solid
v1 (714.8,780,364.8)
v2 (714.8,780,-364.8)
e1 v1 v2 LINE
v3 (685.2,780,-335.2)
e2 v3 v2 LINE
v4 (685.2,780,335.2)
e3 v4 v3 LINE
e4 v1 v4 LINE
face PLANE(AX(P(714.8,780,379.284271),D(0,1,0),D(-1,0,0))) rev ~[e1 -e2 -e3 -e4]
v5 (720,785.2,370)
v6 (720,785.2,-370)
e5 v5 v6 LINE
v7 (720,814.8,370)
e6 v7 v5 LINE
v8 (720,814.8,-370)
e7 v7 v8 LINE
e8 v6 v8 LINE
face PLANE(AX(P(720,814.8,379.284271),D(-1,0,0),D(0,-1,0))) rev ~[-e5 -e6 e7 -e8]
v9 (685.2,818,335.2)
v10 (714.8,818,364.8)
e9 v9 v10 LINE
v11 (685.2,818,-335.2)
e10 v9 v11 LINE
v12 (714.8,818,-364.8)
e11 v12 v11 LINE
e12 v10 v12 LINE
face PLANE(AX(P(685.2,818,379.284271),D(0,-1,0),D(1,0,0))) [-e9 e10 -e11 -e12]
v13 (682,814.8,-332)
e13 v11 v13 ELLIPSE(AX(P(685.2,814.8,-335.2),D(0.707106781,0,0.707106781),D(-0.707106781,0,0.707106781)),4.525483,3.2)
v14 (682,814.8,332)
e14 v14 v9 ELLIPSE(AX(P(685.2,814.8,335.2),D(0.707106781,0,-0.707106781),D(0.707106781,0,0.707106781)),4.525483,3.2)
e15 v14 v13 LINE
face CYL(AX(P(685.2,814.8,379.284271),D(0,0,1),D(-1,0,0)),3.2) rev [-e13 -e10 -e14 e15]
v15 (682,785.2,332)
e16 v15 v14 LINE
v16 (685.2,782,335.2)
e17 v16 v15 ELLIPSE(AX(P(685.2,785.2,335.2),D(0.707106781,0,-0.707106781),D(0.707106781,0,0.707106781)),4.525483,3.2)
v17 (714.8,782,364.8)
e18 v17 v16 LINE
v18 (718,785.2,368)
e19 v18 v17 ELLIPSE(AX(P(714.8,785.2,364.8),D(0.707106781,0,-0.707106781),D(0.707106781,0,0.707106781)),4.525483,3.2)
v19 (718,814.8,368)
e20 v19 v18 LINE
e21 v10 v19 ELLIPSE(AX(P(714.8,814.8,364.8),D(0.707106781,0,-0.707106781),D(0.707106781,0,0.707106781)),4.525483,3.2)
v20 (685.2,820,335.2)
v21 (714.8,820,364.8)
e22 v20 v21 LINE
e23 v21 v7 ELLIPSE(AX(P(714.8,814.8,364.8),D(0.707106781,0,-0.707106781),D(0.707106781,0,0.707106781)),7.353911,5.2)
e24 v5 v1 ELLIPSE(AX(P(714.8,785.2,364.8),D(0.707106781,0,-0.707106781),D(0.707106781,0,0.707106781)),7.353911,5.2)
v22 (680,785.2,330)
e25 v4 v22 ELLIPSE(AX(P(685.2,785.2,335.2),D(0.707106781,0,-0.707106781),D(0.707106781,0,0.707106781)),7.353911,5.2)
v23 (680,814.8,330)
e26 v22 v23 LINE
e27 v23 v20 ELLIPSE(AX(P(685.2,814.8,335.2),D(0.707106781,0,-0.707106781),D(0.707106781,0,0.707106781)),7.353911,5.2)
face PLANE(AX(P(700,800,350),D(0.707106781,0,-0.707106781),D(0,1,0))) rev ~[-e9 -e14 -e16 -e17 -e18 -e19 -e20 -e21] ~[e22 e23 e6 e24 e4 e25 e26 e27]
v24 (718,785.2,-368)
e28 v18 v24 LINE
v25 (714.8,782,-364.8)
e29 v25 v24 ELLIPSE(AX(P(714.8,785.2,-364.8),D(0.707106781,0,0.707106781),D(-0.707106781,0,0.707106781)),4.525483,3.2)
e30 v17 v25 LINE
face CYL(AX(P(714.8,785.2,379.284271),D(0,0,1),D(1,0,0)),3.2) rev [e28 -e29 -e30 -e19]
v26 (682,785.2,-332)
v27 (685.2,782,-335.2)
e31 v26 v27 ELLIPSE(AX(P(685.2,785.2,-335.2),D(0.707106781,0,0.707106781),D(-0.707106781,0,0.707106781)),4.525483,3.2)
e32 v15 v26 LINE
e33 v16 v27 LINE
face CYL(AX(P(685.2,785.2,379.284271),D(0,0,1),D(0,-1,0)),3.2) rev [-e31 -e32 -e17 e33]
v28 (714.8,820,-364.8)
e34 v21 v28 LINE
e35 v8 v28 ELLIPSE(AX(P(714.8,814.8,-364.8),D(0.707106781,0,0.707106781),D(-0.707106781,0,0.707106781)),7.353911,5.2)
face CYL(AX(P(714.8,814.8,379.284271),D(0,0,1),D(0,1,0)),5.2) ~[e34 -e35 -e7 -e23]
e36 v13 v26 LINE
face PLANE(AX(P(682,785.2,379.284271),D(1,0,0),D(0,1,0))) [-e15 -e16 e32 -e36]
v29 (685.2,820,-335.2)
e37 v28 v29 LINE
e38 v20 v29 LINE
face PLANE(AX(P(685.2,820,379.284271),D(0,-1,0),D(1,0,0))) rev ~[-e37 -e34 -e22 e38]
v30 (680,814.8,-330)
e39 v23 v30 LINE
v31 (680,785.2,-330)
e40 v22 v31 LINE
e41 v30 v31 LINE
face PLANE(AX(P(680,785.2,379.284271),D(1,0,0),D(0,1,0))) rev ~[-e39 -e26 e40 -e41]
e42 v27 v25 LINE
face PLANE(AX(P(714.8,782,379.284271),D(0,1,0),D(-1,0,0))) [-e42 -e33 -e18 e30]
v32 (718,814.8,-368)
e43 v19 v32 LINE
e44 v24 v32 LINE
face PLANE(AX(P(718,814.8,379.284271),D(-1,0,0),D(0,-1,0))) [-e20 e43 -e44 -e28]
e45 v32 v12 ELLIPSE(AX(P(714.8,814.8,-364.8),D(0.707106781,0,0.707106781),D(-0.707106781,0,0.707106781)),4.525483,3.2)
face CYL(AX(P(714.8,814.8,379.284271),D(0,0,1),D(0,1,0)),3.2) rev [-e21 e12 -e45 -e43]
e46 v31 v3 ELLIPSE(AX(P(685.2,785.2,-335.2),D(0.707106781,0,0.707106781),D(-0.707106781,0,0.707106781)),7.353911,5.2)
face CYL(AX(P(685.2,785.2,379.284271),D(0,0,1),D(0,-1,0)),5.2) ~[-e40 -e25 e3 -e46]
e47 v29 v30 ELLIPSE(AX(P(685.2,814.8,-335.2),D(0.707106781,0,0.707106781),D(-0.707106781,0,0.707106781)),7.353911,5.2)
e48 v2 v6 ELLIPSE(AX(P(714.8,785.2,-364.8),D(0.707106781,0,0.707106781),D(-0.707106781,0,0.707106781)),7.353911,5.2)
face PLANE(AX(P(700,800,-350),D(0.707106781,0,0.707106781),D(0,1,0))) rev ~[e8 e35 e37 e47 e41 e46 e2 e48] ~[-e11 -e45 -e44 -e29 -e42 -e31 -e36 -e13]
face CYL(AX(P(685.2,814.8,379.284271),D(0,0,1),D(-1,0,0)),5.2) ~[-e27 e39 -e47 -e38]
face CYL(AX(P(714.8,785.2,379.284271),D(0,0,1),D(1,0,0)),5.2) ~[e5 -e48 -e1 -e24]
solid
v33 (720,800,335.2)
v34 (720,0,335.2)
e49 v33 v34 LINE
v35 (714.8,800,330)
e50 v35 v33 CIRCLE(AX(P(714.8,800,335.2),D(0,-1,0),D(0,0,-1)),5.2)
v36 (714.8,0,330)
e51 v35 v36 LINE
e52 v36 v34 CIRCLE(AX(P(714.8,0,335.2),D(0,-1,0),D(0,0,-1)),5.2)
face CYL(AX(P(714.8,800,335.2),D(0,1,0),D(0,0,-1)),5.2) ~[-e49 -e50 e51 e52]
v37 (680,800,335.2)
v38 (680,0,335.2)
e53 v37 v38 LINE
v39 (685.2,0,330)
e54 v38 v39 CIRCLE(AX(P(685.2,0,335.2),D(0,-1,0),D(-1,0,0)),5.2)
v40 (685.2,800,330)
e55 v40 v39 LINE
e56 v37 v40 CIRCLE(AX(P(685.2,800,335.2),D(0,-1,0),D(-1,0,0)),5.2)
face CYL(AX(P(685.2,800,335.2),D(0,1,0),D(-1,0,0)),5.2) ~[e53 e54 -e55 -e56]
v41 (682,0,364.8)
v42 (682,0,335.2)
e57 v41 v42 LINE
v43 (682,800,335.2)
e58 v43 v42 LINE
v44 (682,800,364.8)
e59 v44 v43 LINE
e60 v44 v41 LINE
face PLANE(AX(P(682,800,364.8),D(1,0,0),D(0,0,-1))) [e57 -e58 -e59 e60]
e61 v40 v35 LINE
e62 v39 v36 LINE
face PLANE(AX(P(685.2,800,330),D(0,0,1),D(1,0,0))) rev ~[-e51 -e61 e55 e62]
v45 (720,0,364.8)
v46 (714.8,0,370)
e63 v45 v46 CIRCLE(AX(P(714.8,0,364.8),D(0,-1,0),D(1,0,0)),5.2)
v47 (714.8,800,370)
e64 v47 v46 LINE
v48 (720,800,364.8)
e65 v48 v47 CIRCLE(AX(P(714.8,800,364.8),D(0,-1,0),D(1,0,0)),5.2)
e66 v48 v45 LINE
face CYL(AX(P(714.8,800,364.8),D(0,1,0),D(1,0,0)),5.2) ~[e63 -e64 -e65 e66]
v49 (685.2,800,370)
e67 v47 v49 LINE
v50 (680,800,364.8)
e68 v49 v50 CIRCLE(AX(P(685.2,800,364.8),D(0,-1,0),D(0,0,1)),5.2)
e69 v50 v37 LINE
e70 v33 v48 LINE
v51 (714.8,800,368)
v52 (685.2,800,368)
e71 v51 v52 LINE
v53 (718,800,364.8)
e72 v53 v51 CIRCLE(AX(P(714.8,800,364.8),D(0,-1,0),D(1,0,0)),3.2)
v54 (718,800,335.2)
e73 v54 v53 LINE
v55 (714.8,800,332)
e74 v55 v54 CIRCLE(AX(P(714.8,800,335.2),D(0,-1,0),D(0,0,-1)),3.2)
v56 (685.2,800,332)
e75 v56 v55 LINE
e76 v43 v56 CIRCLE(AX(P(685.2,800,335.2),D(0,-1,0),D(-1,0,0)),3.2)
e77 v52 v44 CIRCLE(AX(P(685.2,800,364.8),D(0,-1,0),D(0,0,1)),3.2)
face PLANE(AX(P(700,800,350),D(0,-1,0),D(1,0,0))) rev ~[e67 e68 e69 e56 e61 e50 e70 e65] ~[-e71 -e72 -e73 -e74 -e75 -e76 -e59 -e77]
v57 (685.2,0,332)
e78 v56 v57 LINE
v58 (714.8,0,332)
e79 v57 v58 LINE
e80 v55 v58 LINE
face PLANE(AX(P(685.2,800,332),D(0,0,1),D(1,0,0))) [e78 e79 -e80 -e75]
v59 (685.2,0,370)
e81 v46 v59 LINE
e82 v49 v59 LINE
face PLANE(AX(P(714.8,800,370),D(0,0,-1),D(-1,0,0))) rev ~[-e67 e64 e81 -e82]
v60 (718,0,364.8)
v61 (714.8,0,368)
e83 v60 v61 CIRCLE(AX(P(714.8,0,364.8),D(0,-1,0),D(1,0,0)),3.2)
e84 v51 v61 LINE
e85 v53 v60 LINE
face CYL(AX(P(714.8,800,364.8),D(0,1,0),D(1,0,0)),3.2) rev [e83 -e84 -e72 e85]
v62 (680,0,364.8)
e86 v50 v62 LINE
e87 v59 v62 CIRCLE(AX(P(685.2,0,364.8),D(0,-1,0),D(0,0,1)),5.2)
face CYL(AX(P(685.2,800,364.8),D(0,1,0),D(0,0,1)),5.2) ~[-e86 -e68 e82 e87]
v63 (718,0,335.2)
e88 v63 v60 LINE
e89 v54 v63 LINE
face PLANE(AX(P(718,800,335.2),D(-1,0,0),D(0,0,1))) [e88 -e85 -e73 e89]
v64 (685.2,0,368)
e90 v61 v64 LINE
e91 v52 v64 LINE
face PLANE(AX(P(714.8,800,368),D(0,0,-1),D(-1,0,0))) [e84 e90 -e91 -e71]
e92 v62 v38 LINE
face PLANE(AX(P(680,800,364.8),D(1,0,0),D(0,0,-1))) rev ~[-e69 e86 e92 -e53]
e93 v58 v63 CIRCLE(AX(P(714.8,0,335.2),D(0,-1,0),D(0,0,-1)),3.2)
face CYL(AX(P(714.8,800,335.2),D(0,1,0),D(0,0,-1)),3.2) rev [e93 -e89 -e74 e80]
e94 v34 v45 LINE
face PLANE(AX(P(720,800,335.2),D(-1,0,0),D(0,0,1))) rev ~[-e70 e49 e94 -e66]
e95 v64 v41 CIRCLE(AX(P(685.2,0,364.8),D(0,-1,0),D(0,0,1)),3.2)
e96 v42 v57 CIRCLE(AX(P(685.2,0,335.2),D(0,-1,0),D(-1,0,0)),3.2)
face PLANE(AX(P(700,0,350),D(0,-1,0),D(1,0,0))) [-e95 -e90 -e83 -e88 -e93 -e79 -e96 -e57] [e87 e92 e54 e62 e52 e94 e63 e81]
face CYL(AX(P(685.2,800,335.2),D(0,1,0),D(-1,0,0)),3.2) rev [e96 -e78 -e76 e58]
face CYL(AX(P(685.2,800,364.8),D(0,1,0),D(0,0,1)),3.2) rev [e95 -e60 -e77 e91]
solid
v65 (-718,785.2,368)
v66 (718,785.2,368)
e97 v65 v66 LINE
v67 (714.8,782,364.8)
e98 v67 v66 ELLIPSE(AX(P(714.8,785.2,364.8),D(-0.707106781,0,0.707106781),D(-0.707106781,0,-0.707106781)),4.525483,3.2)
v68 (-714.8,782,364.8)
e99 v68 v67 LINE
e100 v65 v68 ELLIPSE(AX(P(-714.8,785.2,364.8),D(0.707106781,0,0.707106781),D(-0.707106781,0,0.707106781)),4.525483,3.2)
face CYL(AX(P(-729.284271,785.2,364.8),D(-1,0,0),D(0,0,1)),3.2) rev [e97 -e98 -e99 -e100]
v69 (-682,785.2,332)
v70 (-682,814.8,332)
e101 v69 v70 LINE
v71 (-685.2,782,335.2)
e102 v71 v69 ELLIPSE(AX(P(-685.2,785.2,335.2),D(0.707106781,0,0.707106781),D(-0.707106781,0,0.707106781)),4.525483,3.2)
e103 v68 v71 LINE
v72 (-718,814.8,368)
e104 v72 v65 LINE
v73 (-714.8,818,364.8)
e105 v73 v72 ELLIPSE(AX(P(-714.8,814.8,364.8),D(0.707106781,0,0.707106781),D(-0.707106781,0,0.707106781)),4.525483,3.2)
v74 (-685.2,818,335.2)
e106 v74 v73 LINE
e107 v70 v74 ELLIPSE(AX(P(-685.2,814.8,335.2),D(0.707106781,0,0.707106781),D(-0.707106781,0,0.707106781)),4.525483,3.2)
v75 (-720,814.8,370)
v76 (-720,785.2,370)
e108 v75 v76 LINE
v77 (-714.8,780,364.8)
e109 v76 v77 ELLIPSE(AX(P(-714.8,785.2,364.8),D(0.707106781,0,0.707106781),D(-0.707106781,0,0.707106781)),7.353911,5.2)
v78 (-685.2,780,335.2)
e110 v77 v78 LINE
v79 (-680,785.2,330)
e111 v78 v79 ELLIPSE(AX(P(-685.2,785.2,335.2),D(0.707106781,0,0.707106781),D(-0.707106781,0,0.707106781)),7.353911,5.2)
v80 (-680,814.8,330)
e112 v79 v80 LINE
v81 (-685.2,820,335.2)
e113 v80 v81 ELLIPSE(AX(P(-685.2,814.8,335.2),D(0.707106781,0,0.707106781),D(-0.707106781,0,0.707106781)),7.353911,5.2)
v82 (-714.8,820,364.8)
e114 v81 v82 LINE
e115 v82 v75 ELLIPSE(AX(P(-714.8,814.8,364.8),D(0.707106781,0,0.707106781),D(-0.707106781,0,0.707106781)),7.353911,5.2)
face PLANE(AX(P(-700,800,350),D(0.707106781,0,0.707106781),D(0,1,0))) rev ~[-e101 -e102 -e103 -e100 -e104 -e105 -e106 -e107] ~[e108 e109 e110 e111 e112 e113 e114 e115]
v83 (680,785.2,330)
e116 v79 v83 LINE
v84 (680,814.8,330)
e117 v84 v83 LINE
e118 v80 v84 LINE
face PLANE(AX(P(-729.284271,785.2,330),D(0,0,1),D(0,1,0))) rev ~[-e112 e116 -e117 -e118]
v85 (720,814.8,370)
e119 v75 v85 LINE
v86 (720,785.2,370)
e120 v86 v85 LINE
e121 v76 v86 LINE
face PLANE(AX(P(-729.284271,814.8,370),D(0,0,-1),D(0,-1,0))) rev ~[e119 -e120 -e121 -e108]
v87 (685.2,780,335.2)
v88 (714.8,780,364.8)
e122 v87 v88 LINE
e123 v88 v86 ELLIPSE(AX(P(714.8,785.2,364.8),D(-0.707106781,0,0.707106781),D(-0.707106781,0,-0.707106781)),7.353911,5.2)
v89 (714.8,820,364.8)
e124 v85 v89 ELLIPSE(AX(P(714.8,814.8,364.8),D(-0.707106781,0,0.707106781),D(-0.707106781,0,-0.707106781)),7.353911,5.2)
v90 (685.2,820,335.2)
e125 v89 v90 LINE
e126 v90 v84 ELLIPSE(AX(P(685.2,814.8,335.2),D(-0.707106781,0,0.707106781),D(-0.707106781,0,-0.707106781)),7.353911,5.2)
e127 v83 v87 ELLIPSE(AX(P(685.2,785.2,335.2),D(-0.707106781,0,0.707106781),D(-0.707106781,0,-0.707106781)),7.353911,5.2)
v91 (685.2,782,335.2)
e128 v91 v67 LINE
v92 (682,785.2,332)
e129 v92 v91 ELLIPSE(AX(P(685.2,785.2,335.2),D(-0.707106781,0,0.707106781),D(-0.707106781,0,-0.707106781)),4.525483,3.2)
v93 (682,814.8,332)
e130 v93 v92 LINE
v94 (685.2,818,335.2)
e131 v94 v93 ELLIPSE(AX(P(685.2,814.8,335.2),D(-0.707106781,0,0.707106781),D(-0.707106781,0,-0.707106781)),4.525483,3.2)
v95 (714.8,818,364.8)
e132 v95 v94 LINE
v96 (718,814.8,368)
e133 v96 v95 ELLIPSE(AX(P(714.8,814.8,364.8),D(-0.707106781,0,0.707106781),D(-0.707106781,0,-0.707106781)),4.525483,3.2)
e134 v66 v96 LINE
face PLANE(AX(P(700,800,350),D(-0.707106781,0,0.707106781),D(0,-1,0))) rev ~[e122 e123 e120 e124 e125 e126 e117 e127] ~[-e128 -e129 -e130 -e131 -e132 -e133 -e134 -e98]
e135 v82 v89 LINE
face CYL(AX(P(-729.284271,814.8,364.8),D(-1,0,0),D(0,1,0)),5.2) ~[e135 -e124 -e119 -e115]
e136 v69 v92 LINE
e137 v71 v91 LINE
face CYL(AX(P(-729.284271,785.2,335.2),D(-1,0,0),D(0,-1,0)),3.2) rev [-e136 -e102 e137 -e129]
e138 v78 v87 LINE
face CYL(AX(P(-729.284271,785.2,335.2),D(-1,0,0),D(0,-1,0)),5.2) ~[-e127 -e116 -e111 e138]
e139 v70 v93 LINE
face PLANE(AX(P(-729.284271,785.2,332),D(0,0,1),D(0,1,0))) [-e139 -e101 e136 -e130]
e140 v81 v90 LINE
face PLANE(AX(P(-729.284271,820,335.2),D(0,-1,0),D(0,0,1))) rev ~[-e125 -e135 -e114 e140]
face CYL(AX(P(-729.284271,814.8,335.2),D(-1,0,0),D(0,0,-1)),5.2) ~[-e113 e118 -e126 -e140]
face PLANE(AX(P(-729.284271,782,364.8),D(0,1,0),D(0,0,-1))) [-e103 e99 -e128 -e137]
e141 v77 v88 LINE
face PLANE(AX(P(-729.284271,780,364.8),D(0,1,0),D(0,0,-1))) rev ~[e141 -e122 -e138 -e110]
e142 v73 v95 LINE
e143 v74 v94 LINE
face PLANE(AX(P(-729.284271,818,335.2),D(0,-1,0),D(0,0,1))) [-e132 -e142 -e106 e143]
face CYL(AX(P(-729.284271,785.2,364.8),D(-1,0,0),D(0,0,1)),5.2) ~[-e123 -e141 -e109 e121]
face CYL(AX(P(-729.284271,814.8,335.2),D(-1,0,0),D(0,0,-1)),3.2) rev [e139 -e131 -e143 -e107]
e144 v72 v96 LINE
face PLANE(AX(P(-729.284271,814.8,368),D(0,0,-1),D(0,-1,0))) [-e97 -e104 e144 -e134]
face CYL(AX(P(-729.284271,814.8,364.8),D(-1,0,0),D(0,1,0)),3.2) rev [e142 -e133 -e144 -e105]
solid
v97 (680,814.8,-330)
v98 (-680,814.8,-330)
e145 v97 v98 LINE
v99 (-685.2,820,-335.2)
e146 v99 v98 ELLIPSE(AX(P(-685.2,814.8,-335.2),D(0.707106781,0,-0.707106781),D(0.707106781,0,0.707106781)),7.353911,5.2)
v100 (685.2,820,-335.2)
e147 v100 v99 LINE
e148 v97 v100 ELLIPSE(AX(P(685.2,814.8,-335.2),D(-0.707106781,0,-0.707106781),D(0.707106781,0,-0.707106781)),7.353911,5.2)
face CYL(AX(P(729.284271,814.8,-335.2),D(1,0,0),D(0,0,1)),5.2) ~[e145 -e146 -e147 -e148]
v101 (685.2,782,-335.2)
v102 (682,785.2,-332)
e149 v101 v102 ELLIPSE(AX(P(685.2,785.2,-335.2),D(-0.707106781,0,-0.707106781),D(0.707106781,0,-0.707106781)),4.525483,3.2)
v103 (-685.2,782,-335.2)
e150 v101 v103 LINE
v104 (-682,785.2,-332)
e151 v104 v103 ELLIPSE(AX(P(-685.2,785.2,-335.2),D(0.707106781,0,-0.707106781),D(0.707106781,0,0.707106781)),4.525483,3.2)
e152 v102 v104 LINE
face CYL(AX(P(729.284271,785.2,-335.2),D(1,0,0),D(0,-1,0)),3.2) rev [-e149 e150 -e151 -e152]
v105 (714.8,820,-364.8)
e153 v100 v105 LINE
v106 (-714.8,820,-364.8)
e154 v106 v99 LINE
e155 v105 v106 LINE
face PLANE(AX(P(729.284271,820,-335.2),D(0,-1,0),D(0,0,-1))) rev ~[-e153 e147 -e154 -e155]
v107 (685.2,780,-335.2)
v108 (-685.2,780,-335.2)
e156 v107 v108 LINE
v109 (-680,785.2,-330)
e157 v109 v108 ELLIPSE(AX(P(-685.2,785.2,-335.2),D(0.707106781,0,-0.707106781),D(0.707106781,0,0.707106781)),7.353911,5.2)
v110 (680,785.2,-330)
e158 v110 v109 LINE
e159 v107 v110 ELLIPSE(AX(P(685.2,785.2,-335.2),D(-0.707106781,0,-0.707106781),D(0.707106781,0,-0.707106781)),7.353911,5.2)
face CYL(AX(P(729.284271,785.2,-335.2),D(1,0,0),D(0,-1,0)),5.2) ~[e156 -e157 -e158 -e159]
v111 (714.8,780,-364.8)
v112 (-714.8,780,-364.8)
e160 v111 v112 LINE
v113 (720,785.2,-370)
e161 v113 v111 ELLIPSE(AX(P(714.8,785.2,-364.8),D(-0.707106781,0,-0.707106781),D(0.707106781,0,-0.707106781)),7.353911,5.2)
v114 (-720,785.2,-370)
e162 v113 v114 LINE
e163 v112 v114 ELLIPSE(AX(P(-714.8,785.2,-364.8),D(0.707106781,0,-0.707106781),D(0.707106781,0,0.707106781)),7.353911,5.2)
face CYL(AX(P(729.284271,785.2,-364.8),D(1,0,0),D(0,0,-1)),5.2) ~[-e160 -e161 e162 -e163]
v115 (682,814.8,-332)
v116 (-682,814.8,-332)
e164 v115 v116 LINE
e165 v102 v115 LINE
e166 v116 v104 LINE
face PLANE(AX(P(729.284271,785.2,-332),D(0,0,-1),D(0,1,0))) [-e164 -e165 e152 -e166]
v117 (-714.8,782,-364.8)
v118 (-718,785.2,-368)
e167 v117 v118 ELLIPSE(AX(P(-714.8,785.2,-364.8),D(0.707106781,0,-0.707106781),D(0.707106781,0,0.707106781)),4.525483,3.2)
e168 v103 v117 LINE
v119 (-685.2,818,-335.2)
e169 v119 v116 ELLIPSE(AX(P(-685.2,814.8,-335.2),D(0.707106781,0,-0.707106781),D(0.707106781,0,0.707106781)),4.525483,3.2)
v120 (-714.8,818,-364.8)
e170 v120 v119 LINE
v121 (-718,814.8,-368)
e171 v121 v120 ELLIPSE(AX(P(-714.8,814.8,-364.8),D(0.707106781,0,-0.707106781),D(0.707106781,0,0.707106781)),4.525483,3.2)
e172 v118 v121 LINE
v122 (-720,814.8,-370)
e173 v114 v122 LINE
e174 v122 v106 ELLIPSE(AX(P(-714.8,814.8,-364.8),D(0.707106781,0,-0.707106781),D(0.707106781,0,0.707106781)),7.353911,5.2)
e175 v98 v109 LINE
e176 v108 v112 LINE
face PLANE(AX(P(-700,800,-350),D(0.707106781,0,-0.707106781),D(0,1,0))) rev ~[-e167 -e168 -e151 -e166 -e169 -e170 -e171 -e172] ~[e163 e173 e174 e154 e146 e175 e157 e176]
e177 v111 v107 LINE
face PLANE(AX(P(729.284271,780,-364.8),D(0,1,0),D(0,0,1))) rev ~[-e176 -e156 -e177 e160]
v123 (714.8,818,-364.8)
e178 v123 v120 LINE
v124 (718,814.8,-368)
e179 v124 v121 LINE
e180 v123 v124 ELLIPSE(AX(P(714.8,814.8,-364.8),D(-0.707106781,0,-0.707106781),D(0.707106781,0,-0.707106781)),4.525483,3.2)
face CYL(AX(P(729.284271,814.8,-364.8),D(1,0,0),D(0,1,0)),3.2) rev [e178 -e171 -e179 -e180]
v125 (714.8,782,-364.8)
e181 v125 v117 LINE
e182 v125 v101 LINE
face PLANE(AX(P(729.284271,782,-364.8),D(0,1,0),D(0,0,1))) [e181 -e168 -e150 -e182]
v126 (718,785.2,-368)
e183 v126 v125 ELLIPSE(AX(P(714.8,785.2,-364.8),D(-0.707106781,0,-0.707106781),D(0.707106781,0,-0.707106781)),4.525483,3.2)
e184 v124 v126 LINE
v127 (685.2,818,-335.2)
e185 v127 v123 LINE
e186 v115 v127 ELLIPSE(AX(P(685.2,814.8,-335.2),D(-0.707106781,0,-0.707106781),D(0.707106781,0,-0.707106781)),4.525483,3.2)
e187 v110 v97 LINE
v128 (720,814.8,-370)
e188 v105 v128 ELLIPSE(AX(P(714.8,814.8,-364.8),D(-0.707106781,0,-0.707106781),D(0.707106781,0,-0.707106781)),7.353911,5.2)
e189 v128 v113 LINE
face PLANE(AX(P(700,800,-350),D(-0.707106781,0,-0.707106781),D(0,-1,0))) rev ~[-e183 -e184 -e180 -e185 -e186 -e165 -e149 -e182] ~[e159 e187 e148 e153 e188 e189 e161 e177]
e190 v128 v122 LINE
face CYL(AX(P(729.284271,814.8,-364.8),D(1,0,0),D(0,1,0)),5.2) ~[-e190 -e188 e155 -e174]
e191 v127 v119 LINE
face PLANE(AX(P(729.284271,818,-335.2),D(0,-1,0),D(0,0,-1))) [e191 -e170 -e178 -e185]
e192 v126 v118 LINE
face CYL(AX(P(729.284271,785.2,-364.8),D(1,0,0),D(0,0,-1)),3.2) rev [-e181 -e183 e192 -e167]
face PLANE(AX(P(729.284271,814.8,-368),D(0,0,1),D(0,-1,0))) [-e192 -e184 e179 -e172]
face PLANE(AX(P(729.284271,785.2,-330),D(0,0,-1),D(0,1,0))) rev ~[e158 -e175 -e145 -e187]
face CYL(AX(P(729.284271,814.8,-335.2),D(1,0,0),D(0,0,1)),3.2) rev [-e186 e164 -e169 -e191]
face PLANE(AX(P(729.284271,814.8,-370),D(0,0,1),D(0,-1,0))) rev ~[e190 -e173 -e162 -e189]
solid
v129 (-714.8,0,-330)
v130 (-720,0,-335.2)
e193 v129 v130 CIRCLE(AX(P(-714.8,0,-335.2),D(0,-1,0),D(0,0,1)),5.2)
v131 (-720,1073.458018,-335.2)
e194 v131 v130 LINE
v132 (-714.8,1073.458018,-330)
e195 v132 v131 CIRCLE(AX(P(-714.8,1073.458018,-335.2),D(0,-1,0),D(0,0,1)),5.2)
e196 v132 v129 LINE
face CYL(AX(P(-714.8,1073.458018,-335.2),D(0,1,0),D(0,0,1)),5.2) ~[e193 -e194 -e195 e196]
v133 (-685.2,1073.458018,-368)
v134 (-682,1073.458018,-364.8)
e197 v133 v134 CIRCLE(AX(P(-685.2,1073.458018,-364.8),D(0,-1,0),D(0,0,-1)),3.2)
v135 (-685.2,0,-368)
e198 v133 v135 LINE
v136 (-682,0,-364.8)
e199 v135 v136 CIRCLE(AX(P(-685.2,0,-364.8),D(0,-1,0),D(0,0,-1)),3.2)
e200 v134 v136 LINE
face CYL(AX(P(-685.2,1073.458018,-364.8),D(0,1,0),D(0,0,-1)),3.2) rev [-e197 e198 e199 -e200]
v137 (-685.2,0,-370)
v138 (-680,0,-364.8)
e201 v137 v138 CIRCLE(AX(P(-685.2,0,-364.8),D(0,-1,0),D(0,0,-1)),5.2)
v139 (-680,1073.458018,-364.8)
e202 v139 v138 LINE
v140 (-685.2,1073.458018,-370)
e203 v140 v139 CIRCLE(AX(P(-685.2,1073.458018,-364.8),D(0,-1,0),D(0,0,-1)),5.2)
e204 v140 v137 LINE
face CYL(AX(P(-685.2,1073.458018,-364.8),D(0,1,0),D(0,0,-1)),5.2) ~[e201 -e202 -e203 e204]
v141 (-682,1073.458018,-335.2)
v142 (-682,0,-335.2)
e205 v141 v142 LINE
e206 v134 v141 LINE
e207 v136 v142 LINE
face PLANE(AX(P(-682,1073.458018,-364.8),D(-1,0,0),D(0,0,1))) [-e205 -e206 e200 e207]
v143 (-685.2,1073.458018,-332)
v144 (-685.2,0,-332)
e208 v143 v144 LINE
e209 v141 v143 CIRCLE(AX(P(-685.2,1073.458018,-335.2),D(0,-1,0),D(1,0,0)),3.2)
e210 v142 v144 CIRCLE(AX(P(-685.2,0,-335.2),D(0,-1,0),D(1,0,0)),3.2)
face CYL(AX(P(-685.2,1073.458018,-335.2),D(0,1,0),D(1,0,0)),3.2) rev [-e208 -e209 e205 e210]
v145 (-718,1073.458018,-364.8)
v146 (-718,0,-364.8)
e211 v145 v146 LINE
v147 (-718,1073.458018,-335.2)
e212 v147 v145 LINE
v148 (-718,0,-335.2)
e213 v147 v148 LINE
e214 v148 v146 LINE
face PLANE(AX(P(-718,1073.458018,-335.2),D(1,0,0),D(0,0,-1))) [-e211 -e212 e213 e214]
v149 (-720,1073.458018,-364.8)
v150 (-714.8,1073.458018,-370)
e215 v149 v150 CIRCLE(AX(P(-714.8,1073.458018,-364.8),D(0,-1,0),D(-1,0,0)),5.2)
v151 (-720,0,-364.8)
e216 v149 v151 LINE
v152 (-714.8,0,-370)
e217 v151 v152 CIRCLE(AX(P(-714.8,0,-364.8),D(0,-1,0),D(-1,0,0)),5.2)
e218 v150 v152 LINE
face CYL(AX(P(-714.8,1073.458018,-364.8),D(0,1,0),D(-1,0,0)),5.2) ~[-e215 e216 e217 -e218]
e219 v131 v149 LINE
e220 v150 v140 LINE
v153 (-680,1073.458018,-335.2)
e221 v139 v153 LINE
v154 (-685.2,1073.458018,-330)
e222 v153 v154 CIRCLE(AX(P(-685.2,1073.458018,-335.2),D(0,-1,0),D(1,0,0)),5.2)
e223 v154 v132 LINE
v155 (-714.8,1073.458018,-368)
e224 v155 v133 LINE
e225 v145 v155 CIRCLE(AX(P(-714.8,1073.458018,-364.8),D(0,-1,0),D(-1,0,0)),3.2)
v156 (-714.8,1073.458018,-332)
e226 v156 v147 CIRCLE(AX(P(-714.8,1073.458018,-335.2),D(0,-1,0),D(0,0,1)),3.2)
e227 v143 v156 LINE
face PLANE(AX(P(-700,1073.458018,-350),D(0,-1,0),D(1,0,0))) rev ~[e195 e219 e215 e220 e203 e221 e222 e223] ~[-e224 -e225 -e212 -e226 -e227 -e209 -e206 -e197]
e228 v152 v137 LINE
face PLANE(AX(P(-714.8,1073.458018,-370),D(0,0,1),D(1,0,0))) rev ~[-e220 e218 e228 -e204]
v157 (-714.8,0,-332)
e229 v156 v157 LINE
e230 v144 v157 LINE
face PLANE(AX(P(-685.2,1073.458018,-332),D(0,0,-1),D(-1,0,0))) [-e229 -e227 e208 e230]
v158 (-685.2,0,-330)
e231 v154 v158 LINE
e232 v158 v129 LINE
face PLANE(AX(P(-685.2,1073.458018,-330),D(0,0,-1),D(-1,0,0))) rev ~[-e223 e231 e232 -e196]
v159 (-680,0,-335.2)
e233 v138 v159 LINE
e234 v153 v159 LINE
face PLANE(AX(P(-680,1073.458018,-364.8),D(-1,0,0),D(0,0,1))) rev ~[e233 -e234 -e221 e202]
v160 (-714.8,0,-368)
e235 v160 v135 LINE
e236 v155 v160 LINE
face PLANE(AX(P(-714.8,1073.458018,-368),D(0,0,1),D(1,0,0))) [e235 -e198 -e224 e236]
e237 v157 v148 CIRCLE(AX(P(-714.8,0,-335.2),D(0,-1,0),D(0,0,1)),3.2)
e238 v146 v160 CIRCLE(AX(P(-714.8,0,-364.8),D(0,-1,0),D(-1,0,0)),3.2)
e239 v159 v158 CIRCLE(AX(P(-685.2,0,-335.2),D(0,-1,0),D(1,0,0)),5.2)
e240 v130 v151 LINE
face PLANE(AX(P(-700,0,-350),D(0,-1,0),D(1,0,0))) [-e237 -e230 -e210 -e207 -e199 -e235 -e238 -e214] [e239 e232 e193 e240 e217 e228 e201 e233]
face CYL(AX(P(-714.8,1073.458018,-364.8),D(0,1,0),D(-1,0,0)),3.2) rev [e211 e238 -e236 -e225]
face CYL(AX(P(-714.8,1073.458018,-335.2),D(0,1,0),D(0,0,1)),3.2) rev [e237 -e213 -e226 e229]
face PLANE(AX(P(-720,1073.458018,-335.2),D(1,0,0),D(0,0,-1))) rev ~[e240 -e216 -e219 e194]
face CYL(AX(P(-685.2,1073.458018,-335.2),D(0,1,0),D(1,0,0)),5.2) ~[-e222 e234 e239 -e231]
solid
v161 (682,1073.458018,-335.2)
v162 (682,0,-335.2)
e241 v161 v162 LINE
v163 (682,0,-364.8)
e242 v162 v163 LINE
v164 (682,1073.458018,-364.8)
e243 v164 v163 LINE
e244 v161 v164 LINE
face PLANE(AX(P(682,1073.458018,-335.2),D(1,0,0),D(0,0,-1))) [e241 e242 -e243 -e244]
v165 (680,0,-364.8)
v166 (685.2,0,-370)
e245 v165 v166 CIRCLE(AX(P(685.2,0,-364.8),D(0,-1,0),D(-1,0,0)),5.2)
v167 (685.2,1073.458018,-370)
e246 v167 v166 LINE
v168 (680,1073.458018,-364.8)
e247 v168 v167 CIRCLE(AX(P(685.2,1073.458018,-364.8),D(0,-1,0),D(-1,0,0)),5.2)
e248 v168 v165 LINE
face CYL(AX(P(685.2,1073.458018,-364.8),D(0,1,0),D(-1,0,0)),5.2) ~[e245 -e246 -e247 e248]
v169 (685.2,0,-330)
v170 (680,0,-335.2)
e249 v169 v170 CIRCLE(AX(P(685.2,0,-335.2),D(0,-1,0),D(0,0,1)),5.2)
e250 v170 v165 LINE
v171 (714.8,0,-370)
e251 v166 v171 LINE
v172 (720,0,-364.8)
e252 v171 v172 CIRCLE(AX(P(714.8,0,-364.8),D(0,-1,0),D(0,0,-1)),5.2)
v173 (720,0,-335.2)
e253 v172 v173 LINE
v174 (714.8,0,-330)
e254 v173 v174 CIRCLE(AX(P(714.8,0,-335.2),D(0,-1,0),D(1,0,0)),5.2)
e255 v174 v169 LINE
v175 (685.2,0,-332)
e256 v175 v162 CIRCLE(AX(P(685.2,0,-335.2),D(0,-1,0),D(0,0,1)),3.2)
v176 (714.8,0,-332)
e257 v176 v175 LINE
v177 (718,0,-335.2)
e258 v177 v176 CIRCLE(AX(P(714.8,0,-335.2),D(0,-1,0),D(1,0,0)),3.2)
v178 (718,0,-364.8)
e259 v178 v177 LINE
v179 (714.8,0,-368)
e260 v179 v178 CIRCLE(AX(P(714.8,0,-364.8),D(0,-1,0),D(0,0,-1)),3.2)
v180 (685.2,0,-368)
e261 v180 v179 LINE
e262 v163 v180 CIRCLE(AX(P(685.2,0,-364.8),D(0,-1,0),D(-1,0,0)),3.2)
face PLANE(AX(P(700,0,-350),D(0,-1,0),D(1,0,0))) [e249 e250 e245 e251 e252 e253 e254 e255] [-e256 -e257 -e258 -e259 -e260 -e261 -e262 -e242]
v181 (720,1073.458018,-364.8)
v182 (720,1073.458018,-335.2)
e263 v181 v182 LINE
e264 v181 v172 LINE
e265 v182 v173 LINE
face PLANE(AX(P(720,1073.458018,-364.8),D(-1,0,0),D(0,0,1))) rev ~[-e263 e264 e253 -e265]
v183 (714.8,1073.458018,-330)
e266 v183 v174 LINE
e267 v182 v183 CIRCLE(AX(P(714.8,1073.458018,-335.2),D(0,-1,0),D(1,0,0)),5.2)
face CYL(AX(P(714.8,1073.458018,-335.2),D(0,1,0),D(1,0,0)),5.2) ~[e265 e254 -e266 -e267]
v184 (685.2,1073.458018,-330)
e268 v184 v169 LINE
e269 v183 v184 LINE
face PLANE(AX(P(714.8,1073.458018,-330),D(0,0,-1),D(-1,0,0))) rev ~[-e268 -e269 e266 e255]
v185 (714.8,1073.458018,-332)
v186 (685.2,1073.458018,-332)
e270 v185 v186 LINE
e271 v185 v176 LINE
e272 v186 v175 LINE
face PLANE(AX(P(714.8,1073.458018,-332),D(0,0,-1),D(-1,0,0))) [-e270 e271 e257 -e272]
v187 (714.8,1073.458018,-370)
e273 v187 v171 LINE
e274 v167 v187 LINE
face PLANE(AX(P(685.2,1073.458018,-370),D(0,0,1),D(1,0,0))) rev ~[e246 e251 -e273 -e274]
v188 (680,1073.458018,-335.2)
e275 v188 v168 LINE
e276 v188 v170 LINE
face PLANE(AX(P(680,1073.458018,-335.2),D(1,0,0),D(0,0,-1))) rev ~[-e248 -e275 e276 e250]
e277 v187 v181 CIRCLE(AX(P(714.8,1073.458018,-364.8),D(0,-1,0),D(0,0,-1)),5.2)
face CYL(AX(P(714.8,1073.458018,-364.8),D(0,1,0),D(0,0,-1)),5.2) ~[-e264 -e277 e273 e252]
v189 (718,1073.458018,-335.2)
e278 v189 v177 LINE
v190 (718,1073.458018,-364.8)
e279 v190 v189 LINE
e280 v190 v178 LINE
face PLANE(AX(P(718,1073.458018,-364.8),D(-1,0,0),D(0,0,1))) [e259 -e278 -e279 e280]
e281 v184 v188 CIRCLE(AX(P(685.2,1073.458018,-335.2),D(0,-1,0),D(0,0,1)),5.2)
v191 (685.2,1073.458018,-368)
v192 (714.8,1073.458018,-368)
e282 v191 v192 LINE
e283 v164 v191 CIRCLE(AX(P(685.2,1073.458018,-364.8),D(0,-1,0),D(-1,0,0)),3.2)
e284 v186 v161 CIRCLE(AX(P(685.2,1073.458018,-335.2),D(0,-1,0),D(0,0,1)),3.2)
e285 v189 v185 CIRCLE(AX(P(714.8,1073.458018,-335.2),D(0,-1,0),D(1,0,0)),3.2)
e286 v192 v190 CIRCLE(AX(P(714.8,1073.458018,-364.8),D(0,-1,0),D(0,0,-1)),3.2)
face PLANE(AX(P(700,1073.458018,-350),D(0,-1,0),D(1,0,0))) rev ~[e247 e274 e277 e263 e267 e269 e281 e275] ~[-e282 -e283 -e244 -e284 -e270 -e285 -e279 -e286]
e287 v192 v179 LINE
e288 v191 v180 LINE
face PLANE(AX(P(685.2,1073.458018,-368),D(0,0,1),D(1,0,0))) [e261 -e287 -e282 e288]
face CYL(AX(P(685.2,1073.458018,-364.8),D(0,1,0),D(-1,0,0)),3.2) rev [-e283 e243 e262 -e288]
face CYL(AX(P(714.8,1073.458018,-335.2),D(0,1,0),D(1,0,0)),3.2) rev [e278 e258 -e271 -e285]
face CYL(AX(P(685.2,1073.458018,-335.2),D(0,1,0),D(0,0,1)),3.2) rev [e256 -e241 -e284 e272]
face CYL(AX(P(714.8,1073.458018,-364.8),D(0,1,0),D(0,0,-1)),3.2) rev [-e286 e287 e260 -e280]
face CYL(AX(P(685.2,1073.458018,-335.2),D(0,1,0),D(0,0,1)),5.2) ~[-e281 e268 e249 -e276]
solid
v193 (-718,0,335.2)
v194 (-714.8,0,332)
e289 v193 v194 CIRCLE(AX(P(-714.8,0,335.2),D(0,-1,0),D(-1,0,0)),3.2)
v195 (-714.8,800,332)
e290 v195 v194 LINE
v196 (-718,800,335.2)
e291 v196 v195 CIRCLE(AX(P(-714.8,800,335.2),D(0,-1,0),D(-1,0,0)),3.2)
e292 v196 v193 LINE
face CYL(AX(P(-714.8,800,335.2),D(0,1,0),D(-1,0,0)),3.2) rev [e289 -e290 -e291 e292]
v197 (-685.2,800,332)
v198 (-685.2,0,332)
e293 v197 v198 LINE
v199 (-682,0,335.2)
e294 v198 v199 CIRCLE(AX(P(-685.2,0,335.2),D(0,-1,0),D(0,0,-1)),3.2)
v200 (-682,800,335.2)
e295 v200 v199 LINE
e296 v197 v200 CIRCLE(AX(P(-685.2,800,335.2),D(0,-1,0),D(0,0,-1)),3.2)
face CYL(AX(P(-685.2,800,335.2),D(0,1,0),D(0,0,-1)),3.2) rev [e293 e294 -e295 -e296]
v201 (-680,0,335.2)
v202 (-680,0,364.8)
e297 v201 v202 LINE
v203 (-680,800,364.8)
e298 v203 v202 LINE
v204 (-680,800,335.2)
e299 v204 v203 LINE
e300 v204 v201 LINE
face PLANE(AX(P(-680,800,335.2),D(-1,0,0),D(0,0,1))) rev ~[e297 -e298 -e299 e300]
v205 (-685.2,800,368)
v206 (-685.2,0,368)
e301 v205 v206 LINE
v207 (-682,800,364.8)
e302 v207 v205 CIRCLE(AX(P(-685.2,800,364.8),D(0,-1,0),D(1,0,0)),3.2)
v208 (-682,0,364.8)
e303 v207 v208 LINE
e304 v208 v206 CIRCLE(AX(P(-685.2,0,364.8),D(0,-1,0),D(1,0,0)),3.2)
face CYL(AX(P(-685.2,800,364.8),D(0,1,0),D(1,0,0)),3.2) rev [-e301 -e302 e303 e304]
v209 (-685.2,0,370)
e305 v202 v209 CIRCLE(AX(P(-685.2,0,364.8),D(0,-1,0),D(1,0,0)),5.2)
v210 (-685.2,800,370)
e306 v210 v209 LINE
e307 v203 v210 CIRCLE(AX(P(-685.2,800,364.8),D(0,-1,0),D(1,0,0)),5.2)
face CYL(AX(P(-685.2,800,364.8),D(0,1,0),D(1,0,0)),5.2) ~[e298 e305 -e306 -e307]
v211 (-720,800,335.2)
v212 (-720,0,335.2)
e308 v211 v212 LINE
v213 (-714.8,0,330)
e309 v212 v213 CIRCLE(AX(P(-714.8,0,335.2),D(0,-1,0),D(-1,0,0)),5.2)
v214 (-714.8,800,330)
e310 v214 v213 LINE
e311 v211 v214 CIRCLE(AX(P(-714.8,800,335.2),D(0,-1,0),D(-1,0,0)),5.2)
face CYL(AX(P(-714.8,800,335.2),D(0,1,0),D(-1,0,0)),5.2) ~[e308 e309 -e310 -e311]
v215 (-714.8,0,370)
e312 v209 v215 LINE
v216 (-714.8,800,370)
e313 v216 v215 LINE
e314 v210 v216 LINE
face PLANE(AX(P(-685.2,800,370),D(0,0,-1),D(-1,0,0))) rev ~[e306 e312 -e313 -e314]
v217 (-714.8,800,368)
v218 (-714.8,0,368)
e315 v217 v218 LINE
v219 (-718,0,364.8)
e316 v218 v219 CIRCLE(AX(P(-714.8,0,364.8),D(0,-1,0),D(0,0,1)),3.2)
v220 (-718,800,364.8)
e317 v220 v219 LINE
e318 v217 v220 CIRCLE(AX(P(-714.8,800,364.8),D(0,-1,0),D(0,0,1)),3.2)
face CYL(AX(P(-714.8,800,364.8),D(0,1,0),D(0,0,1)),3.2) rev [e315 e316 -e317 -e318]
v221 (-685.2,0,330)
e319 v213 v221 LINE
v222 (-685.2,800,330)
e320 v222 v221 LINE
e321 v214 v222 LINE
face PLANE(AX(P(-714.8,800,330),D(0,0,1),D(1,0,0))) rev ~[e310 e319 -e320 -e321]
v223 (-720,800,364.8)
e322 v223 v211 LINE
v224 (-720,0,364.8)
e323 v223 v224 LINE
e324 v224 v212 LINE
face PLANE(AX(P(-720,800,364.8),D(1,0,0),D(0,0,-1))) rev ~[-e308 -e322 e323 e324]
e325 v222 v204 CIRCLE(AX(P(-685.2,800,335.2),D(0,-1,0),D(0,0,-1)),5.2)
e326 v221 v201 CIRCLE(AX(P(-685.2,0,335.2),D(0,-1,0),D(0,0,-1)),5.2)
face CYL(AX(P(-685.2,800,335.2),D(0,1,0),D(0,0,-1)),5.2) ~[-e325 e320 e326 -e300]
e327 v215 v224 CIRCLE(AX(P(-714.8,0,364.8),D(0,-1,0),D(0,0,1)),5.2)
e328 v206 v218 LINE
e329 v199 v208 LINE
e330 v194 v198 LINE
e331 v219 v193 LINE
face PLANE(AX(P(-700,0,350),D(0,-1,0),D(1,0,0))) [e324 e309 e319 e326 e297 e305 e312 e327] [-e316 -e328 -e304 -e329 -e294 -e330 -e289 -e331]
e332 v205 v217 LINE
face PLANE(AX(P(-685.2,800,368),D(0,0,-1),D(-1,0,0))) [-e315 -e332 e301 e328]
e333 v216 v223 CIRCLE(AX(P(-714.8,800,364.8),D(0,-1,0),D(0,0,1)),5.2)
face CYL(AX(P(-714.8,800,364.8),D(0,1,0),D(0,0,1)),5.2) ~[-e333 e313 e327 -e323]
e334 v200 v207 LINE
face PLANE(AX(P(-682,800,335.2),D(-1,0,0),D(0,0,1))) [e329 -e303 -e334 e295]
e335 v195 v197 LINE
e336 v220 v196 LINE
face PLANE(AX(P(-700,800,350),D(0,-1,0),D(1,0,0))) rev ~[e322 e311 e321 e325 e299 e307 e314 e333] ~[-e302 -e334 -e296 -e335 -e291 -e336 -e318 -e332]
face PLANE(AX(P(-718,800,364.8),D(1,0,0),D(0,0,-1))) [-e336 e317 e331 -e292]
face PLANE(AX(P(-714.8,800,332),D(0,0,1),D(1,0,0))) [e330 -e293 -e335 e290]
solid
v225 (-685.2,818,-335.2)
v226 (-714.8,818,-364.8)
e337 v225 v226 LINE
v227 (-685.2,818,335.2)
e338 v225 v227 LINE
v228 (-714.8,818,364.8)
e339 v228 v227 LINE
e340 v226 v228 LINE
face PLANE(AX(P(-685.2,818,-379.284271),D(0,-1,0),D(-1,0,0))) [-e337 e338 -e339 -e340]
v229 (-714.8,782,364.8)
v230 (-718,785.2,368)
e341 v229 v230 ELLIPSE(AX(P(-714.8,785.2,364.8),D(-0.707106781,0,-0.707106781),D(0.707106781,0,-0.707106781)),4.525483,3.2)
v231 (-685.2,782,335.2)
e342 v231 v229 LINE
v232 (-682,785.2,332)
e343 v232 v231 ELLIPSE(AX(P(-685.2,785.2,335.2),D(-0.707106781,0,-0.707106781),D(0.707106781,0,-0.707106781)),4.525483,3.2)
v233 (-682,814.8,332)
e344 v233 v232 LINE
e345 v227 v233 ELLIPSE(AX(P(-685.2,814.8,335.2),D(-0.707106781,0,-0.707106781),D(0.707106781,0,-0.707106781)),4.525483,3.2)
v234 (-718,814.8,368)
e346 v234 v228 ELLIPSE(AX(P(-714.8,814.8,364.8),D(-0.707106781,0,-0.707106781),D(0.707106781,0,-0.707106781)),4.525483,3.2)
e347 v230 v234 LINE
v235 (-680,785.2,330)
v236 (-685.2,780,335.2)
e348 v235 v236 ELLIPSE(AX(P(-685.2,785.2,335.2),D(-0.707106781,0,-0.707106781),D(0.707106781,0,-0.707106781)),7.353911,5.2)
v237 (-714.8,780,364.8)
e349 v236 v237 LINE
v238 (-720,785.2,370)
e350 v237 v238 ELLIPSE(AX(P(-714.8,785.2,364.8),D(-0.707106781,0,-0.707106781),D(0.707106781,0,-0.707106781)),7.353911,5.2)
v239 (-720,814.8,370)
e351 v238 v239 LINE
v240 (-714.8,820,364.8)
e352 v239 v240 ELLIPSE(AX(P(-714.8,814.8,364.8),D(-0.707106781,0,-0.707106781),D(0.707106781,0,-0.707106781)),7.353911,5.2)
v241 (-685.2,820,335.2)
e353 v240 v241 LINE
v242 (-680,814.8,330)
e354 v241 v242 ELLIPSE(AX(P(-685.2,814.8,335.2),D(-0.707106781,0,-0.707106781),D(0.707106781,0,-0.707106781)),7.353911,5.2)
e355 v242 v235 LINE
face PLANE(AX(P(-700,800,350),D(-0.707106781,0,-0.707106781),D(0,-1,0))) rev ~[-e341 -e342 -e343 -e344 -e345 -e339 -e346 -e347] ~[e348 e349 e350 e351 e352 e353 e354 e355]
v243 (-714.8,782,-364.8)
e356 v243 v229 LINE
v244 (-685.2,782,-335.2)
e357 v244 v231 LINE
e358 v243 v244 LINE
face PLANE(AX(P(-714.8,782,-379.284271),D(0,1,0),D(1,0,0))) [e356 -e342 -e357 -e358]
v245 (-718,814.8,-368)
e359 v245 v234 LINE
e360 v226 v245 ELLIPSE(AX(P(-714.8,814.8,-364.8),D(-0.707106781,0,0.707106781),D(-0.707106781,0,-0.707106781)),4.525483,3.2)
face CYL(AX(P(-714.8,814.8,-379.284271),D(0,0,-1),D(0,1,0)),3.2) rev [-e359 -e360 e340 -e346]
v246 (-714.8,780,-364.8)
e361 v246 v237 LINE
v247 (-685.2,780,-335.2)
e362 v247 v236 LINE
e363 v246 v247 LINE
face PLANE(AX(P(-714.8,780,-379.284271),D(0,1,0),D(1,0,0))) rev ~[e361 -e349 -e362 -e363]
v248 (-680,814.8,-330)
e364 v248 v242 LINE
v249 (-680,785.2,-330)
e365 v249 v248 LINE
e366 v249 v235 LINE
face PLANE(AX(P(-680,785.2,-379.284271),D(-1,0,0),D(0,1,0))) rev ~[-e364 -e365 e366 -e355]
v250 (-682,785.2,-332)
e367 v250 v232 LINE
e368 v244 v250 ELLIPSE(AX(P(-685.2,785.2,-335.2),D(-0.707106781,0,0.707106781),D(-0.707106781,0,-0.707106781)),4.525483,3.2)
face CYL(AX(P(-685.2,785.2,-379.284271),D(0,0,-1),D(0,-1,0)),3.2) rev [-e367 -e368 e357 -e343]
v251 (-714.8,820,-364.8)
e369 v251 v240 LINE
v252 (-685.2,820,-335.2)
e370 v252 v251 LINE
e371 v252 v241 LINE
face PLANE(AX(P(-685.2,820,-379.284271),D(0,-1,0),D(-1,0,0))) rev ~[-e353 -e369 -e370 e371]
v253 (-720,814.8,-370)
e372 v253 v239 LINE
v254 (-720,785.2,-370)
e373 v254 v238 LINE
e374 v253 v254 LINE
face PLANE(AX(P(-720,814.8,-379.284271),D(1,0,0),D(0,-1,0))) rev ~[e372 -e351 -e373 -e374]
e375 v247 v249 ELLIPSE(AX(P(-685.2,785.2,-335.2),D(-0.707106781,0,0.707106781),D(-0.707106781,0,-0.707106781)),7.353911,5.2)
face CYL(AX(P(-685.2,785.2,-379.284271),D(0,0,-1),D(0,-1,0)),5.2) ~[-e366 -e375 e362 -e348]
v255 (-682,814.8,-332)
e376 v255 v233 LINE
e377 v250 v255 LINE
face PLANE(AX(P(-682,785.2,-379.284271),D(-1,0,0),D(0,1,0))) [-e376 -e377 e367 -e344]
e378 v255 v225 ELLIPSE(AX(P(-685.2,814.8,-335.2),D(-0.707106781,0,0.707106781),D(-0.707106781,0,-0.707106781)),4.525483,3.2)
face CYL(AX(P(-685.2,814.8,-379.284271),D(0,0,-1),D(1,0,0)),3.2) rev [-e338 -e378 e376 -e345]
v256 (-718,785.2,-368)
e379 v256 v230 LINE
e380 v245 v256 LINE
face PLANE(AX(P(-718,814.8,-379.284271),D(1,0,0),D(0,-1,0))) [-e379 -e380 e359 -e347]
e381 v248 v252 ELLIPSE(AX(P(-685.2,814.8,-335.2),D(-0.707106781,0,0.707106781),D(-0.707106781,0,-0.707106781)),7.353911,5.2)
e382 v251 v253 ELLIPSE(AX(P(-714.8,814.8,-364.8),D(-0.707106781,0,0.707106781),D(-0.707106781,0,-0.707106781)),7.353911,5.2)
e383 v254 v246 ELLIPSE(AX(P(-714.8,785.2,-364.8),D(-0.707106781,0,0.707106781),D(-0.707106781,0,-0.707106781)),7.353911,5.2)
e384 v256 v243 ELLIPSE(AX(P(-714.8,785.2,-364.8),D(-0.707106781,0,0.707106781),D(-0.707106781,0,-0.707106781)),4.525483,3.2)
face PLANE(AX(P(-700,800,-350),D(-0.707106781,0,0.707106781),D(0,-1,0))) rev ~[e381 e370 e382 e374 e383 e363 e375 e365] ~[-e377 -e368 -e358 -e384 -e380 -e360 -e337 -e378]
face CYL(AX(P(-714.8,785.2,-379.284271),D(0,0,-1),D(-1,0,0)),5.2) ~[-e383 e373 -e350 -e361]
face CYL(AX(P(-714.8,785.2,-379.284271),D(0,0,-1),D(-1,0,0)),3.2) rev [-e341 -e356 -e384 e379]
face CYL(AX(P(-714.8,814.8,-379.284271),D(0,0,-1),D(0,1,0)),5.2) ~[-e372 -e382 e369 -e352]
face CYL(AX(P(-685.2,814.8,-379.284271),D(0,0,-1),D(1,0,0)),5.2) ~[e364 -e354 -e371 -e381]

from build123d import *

# Parameters (mm, degrees)
RECTANGULAR_TUBE_CONFIGURED_40_X_40_X_DEPTH      = 1429.284271247
RECTANGULAR_TUBE_CONFIGURED_40_X_40_X_DEPTH_BACK = 29.284271247
RECTANGULAR_TUBE_CONFIGURED_40_X_4_4_DEPTH       = 758.568542495
RECTANGULAR_TUBE_CONFIGURED_40_X_4_6_DEPTH       = 1458.568542495
RECTANGULAR_TUBE_CONFIGURED_40_X_4_8_DEPTH       = 758.568542495
RECTANGULAR_TUBE_CONFIGURED_40_X_4_10_DEPTH      = 1073.458017645
RECTANGULAR_TUBE_CONFIGURED_40_X_4_11_DEPTH      = 1073.458017645
RECTANGULAR_TUBE_CONFIGURED_40_X_4_12_DEPTH      = 800
RECTANGULAR_TUBE_CONFIGURED_40_X_4_13_DEPTH      = 800


with BuildPart() as part:
    # Sketch12 → Rectangular tube - configured 40 X 40 X (new, two sides: drawn at the far end of the back side and taken through both)
    with BuildSketch(Plane(origin=(-700, 800, 350), x_dir=(0, 0, -1), z_dir=(1, 0, 0)).offset(-RECTANGULAR_TUBE_CONFIGURED_40_X_40_X_DEPTH_BACK)):
        with BuildLine():
            Line((-14.8, -20), (14.8, -20))
            ThreePointArc((14.8, -20), (18.476955262, -18.476955262), (20, -14.8))
            Line((20, -14.8), (20, 14.8))
            ThreePointArc((20, 14.8), (18.476955262, 18.476955262), (14.8, 20))
            Line((14.8, 20), (-14.8, 20))
            ThreePointArc((-14.8, 20), (-18.476955262, 18.476955262), (-20, 14.8))
            Line((-20, 14.8), (-20, -14.8))
            ThreePointArc((-20, -14.8), (-18.476955262, -18.476955262), (-14.8, -20))
        make_face()
        with BuildLine():
            Line((-14.8, -18), (14.8, -18))
            ThreePointArc((14.8, -18), (17.0627417, -17.0627417), (18, -14.8))
            Line((18, -14.8), (18, 14.8))
            ThreePointArc((18, 14.8), (17.0627417, 17.0627417), (14.8, 18))
            Line((14.8, 18), (-14.8, 18))
            ThreePointArc((-14.8, 18), (-17.0627417, 17.0627417), (-18, 14.8))
            Line((-18, 14.8), (-18, -14.8))
            ThreePointArc((-18, -14.8), (-17.0627417, -17.0627417), (-14.8, -18))
        make_face(mode=Mode.SUBTRACT)
    extrude(amount=RECTANGULAR_TUBE_CONFIGURED_40_X_40_X_DEPTH + RECTANGULAR_TUBE_CONFIGURED_40_X_40_X_DEPTH_BACK)

    # Rectangular tube - configured 40 X 4 2
    split(bisect_by=Plane(origin=(-700, 800, 350), x_dir=(0, 1, 0), z_dir=(0.707106781, 0, 0.707106781)), keep=Keep.TOP)

    # Rectangular tube - configured 40 X 4 3
    split(bisect_by=Plane(origin=(700, 800, 350), x_dir=(0, -1, 0), z_dir=(-0.707106781, 0, 0.707106781)), keep=Keep.TOP)


with BuildPart() as body_2:
    # Sketch12 on segment 2 (carried to segment 2) → Rectangular tube - configured 40 X 4 4 (new body)
    with BuildSketch(Plane(origin=(700, 800, 379.284271247), x_dir=(-1, 0, 0), z_dir=(0, 0, -1))):
        with BuildLine():
            Line((-14.8, -20), (14.8, -20))
            ThreePointArc((14.8, -20), (18.476955262, -18.476955262), (20, -14.8))
            Line((20, -14.8), (20, 14.8))
            ThreePointArc((20, 14.8), (18.476955262, 18.476955262), (14.8, 20))
            Line((14.8, 20), (-14.8, 20))
            ThreePointArc((-14.8, 20), (-18.476955262, 18.476955262), (-20, 14.8))
            Line((-20, 14.8), (-20, -14.8))
            ThreePointArc((-20, -14.8), (-18.476955262, -18.476955262), (-14.8, -20))
        make_face()
        with BuildLine():
            Line((-14.8, -18), (14.8, -18))
            ThreePointArc((14.8, -18), (17.0627417, -17.0627417), (18, -14.8))
            Line((18, -14.8), (18, 14.8))
            ThreePointArc((18, 14.8), (17.0627417, 17.0627417), (14.8, 18))
            Line((14.8, 18), (-14.8, 18))
            ThreePointArc((-14.8, 18), (-17.0627417, 17.0627417), (-18, 14.8))
            Line((-18, 14.8), (-18, -14.8))
            ThreePointArc((-18, -14.8), (-17.0627417, -17.0627417), (-14.8, -18))
        make_face(mode=Mode.SUBTRACT)
    extrude(amount=RECTANGULAR_TUBE_CONFIGURED_40_X_4_4_DEPTH)

    # Rectangular tube - configured 40 X 4 4 m
    split(bisect_by=Plane(origin=(700, 800, 350), x_dir=(0, 1, 0), z_dir=(0.707106781, 0, -0.707106781)), keep=Keep.TOP)

    # Rectangular tube - configured 40 X 4 5
    split(bisect_by=Plane(origin=(700, 800, -350), x_dir=(0, 1, 0), z_dir=(0.707106781, 0, 0.707106781)), keep=Keep.TOP)


with BuildPart() as body_3:
    # Sketch12 on segment 3 (carried to segment 3) → Rectangular tube - configured 40 X 4 6 (new body)
    with BuildSketch(Plane(origin=(729.284271247, 800, -350), x_dir=(0, 0, 1), z_dir=(-1, 0, 0))):
        with BuildLine():
            Line((-14.8, -20), (14.8, -20))
            ThreePointArc((14.8, -20), (18.476955262, -18.476955262), (20, -14.8))
            Line((20, -14.8), (20, 14.8))
            ThreePointArc((20, 14.8), (18.476955262, 18.476955262), (14.8, 20))
            Line((14.8, 20), (-14.8, 20))
            ThreePointArc((-14.8, 20), (-18.476955262, 18.476955262), (-20, 14.8))
            Line((-20, 14.8), (-20, -14.8))
            ThreePointArc((-20, -14.8), (-18.476955262, -18.476955262), (-14.8, -20))
        make_face()
        with BuildLine():
            Line((-14.8, -18), (14.8, -18))
            ThreePointArc((14.8, -18), (17.0627417, -17.0627417), (18, -14.8))
            Line((18, -14.8), (18, 14.8))
            ThreePointArc((18, 14.8), (17.0627417, 17.0627417), (14.8, 18))
            Line((14.8, 18), (-14.8, 18))
            ThreePointArc((-14.8, 18), (-17.0627417, 17.0627417), (-18, 14.8))
            Line((-18, 14.8), (-18, -14.8))
            ThreePointArc((-18, -14.8), (-17.0627417, -17.0627417), (-14.8, -18))
        make_face(mode=Mode.SUBTRACT)
    extrude(amount=RECTANGULAR_TUBE_CONFIGURED_40_X_4_6_DEPTH)

    # Rectangular tube - configured 40 X 4 6 m
    split(bisect_by=Plane(origin=(700, 800, -350), x_dir=(0, -1, 0), z_dir=(-0.707106781, 0, -0.707106781)), keep=Keep.TOP)

    # Rectangular tube - configured 40 X 4 7
    split(bisect_by=Plane(origin=(-700, 800, -350), x_dir=(0, 1, 0), z_dir=(0.707106781, 0, -0.707106781)), keep=Keep.TOP)


with BuildPart() as body_4:
    # Sketch12 on segment 4 (carried to segment 4) → Rectangular tube - configured 40 X 4 8 (new body)
    with BuildSketch(Plane(origin=(-700, 800, -379.284271247), x_dir=(1, 0, 0), z_dir=(0, 0, 1))):
        with BuildLine():
            Line((-14.8, -20), (14.8, -20))
            ThreePointArc((14.8, -20), (18.476955262, -18.476955262), (20, -14.8))
            Line((20, -14.8), (20, 14.8))
            ThreePointArc((20, 14.8), (18.476955262, 18.476955262), (14.8, 20))
            Line((14.8, 20), (-14.8, 20))
            ThreePointArc((-14.8, 20), (-18.476955262, 18.476955262), (-20, 14.8))
            Line((-20, 14.8), (-20, -14.8))
            ThreePointArc((-20, -14.8), (-18.476955262, -18.476955262), (-14.8, -20))
        make_face()
        with BuildLine():
            Line((-14.8, -18), (14.8, -18))
            ThreePointArc((14.8, -18), (17.0627417, -17.0627417), (18, -14.8))
            Line((18, -14.8), (18, 14.8))
            ThreePointArc((18, 14.8), (17.0627417, 17.0627417), (14.8, 18))
            Line((14.8, 18), (-14.8, 18))
            ThreePointArc((-14.8, 18), (-17.0627417, 17.0627417), (-18, 14.8))
            Line((-18, 14.8), (-18, -14.8))
            ThreePointArc((-18, -14.8), (-17.0627417, -17.0627417), (-14.8, -18))
        make_face(mode=Mode.SUBTRACT)
    extrude(amount=RECTANGULAR_TUBE_CONFIGURED_40_X_4_8_DEPTH)

    # Rectangular tube - configured 40 X 4 8 m
    split(bisect_by=Plane(origin=(-700, 800, -350), x_dir=(0, -1, 0), z_dir=(-0.707106781, 0, 0.707106781)), keep=Keep.TOP)

    # Rectangular tube - configured 40 X 4 9
    split(bisect_by=Plane(origin=(-700, 800, 350), x_dir=(0, -1, 0), z_dir=(-0.707106781, 0, -0.707106781)), keep=Keep.TOP)


with BuildPart() as body_5:
    # Sketch1 → Rectangular tube - configured 40 X 4 10 (new body)
    with BuildSketch(Plane(origin=(-700, 1073.458017645, -350), x_dir=(1, 0, 0), z_dir=(0, -1, 0))):
        with BuildLine():
            Line((-14.8, -20), (14.8, -20))
            ThreePointArc((14.8, -20), (18.476955262, -18.476955262), (20, -14.8))
            Line((20, -14.8), (20, 14.8))
            ThreePointArc((20, 14.8), (18.476955262, 18.476955262), (14.8, 20))
            Line((14.8, 20), (-14.8, 20))
            ThreePointArc((-14.8, 20), (-18.476955262, 18.476955262), (-20, 14.8))
            Line((-20, 14.8), (-20, -14.8))
            ThreePointArc((-20, -14.8), (-18.476955262, -18.476955262), (-14.8, -20))
        make_face()
        with BuildLine():
            Line((-14.8, -18), (14.8, -18))
            ThreePointArc((14.8, -18), (17.0627417, -17.0627417), (18, -14.8))
            Line((18, -14.8), (18, 14.8))
            ThreePointArc((18, 14.8), (17.0627417, 17.0627417), (14.8, 18))
            Line((14.8, 18), (-14.8, 18))
            ThreePointArc((-14.8, 18), (-17.0627417, 17.0627417), (-18, 14.8))
            Line((-18, 14.8), (-18, -14.8))
            ThreePointArc((-18, -14.8), (-17.0627417, -17.0627417), (-14.8, -18))
        make_face(mode=Mode.SUBTRACT)
    extrude(amount=RECTANGULAR_TUBE_CONFIGURED_40_X_4_10_DEPTH)


with BuildPart() as body_6:
    # Sketch1 on segment 2 (carried to segment 2) → Rectangular tube - configured 40 X 4 11 (new body)
    with BuildSketch(Plane(origin=(700, 1073.458017645, -350), x_dir=(1, 0, 0), z_dir=(0, -1, 0))):
        with BuildLine():
            Line((-14.8, -20), (14.8, -20))
            ThreePointArc((14.8, -20), (18.476955262, -18.476955262), (20, -14.8))
            Line((20, -14.8), (20, 14.8))
            ThreePointArc((20, 14.8), (18.476955262, 18.476955262), (14.8, 20))
            Line((14.8, 20), (-14.8, 20))
            ThreePointArc((-14.8, 20), (-18.476955262, 18.476955262), (-20, 14.8))
            Line((-20, 14.8), (-20, -14.8))
            ThreePointArc((-20, -14.8), (-18.476955262, -18.476955262), (-14.8, -20))
        make_face()
        with BuildLine():
            Line((-14.8, -18), (14.8, -18))
            ThreePointArc((14.8, -18), (17.0627417, -17.0627417), (18, -14.8))
            Line((18, -14.8), (18, 14.8))
            ThreePointArc((18, 14.8), (17.0627417, 17.0627417), (14.8, 18))
            Line((14.8, 18), (-14.8, 18))
            ThreePointArc((-14.8, 18), (-17.0627417, 17.0627417), (-18, 14.8))
            Line((-18, 14.8), (-18, -14.8))
            ThreePointArc((-18, -14.8), (-17.0627417, -17.0627417), (-14.8, -18))
        make_face(mode=Mode.SUBTRACT)
    extrude(amount=RECTANGULAR_TUBE_CONFIGURED_40_X_4_11_DEPTH)


with BuildPart() as body_7:
    # Sketch1 on segment 3 (carried to segment 3) → Rectangular tube - configured 40 X 4 12 (new body)
    with BuildSketch(Plane(origin=(-700, 800, 350), x_dir=(1, 0, 0), z_dir=(0, -1, 0))):
        with BuildLine():
            Line((-14.8, -20), (14.8, -20))
            ThreePointArc((14.8, -20), (18.476955262, -18.476955262), (20, -14.8))
            Line((20, -14.8), (20, 14.8))
            ThreePointArc((20, 14.8), (18.476955262, 18.476955262), (14.8, 20))
            Line((14.8, 20), (-14.8, 20))
            ThreePointArc((-14.8, 20), (-18.476955262, 18.476955262), (-20, 14.8))
            Line((-20, 14.8), (-20, -14.8))
            ThreePointArc((-20, -14.8), (-18.476955262, -18.476955262), (-14.8, -20))
        make_face()
        with BuildLine():
            Line((-14.8, -18), (14.8, -18))
            ThreePointArc((14.8, -18), (17.0627417, -17.0627417), (18, -14.8))
            Line((18, -14.8), (18, 14.8))
            ThreePointArc((18, 14.8), (17.0627417, 17.0627417), (14.8, 18))
            Line((14.8, 18), (-14.8, 18))
            ThreePointArc((-14.8, 18), (-17.0627417, 17.0627417), (-18, 14.8))
            Line((-18, 14.8), (-18, -14.8))
            ThreePointArc((-18, -14.8), (-17.0627417, -17.0627417), (-14.8, -18))
        make_face(mode=Mode.SUBTRACT)
    extrude(amount=RECTANGULAR_TUBE_CONFIGURED_40_X_4_12_DEPTH)


with BuildPart() as body_8:
    # Sketch1 on segment 4 (carried to segment 4) → Rectangular tube - configured 40 X 4 13 (new body)
    with BuildSketch(Plane(origin=(700, 800, 350), x_dir=(1, 0, 0), z_dir=(0, -1, 0))):
        with BuildLine():
            Line((-14.8, -20), (14.8, -20))
            ThreePointArc((14.8, -20), (18.476955262, -18.476955262), (20, -14.8))
            Line((20, -14.8), (20, 14.8))
            ThreePointArc((20, 14.8), (18.476955262, 18.476955262), (14.8, 20))
            Line((14.8, 20), (-14.8, 20))
            ThreePointArc((-14.8, 20), (-18.476955262, 18.476955262), (-20, 14.8))
            Line((-20, 14.8), (-20, -14.8))
            ThreePointArc((-20, -14.8), (-18.476955262, -18.476955262), (-14.8, -20))
        make_face()
        with BuildLine():
            Line((-14.8, -18), (14.8, -18))
            ThreePointArc((14.8, -18), (17.0627417, -17.0627417), (18, -14.8))
            Line((18, -14.8), (18, 14.8))
            ThreePointArc((18, 14.8), (17.0627417, 17.0627417), (14.8, 18))
            Line((14.8, 18), (-14.8, 18))
            ThreePointArc((-14.8, 18), (-17.0627417, 17.0627417), (-18, 14.8))
            Line((-18, 14.8), (-18, -14.8))
            ThreePointArc((-18, -14.8), (-17.0627417, -17.0627417), (-14.8, -18))
        make_face(mode=Mode.SUBTRACT)
    extrude(amount=RECTANGULAR_TUBE_CONFIGURED_40_X_4_13_DEPTH)


solid = Compound([part.part, body_2.part, body_3.part, body_4.part, body_5.part, body_6.part, body_7.part, body_8.part])
